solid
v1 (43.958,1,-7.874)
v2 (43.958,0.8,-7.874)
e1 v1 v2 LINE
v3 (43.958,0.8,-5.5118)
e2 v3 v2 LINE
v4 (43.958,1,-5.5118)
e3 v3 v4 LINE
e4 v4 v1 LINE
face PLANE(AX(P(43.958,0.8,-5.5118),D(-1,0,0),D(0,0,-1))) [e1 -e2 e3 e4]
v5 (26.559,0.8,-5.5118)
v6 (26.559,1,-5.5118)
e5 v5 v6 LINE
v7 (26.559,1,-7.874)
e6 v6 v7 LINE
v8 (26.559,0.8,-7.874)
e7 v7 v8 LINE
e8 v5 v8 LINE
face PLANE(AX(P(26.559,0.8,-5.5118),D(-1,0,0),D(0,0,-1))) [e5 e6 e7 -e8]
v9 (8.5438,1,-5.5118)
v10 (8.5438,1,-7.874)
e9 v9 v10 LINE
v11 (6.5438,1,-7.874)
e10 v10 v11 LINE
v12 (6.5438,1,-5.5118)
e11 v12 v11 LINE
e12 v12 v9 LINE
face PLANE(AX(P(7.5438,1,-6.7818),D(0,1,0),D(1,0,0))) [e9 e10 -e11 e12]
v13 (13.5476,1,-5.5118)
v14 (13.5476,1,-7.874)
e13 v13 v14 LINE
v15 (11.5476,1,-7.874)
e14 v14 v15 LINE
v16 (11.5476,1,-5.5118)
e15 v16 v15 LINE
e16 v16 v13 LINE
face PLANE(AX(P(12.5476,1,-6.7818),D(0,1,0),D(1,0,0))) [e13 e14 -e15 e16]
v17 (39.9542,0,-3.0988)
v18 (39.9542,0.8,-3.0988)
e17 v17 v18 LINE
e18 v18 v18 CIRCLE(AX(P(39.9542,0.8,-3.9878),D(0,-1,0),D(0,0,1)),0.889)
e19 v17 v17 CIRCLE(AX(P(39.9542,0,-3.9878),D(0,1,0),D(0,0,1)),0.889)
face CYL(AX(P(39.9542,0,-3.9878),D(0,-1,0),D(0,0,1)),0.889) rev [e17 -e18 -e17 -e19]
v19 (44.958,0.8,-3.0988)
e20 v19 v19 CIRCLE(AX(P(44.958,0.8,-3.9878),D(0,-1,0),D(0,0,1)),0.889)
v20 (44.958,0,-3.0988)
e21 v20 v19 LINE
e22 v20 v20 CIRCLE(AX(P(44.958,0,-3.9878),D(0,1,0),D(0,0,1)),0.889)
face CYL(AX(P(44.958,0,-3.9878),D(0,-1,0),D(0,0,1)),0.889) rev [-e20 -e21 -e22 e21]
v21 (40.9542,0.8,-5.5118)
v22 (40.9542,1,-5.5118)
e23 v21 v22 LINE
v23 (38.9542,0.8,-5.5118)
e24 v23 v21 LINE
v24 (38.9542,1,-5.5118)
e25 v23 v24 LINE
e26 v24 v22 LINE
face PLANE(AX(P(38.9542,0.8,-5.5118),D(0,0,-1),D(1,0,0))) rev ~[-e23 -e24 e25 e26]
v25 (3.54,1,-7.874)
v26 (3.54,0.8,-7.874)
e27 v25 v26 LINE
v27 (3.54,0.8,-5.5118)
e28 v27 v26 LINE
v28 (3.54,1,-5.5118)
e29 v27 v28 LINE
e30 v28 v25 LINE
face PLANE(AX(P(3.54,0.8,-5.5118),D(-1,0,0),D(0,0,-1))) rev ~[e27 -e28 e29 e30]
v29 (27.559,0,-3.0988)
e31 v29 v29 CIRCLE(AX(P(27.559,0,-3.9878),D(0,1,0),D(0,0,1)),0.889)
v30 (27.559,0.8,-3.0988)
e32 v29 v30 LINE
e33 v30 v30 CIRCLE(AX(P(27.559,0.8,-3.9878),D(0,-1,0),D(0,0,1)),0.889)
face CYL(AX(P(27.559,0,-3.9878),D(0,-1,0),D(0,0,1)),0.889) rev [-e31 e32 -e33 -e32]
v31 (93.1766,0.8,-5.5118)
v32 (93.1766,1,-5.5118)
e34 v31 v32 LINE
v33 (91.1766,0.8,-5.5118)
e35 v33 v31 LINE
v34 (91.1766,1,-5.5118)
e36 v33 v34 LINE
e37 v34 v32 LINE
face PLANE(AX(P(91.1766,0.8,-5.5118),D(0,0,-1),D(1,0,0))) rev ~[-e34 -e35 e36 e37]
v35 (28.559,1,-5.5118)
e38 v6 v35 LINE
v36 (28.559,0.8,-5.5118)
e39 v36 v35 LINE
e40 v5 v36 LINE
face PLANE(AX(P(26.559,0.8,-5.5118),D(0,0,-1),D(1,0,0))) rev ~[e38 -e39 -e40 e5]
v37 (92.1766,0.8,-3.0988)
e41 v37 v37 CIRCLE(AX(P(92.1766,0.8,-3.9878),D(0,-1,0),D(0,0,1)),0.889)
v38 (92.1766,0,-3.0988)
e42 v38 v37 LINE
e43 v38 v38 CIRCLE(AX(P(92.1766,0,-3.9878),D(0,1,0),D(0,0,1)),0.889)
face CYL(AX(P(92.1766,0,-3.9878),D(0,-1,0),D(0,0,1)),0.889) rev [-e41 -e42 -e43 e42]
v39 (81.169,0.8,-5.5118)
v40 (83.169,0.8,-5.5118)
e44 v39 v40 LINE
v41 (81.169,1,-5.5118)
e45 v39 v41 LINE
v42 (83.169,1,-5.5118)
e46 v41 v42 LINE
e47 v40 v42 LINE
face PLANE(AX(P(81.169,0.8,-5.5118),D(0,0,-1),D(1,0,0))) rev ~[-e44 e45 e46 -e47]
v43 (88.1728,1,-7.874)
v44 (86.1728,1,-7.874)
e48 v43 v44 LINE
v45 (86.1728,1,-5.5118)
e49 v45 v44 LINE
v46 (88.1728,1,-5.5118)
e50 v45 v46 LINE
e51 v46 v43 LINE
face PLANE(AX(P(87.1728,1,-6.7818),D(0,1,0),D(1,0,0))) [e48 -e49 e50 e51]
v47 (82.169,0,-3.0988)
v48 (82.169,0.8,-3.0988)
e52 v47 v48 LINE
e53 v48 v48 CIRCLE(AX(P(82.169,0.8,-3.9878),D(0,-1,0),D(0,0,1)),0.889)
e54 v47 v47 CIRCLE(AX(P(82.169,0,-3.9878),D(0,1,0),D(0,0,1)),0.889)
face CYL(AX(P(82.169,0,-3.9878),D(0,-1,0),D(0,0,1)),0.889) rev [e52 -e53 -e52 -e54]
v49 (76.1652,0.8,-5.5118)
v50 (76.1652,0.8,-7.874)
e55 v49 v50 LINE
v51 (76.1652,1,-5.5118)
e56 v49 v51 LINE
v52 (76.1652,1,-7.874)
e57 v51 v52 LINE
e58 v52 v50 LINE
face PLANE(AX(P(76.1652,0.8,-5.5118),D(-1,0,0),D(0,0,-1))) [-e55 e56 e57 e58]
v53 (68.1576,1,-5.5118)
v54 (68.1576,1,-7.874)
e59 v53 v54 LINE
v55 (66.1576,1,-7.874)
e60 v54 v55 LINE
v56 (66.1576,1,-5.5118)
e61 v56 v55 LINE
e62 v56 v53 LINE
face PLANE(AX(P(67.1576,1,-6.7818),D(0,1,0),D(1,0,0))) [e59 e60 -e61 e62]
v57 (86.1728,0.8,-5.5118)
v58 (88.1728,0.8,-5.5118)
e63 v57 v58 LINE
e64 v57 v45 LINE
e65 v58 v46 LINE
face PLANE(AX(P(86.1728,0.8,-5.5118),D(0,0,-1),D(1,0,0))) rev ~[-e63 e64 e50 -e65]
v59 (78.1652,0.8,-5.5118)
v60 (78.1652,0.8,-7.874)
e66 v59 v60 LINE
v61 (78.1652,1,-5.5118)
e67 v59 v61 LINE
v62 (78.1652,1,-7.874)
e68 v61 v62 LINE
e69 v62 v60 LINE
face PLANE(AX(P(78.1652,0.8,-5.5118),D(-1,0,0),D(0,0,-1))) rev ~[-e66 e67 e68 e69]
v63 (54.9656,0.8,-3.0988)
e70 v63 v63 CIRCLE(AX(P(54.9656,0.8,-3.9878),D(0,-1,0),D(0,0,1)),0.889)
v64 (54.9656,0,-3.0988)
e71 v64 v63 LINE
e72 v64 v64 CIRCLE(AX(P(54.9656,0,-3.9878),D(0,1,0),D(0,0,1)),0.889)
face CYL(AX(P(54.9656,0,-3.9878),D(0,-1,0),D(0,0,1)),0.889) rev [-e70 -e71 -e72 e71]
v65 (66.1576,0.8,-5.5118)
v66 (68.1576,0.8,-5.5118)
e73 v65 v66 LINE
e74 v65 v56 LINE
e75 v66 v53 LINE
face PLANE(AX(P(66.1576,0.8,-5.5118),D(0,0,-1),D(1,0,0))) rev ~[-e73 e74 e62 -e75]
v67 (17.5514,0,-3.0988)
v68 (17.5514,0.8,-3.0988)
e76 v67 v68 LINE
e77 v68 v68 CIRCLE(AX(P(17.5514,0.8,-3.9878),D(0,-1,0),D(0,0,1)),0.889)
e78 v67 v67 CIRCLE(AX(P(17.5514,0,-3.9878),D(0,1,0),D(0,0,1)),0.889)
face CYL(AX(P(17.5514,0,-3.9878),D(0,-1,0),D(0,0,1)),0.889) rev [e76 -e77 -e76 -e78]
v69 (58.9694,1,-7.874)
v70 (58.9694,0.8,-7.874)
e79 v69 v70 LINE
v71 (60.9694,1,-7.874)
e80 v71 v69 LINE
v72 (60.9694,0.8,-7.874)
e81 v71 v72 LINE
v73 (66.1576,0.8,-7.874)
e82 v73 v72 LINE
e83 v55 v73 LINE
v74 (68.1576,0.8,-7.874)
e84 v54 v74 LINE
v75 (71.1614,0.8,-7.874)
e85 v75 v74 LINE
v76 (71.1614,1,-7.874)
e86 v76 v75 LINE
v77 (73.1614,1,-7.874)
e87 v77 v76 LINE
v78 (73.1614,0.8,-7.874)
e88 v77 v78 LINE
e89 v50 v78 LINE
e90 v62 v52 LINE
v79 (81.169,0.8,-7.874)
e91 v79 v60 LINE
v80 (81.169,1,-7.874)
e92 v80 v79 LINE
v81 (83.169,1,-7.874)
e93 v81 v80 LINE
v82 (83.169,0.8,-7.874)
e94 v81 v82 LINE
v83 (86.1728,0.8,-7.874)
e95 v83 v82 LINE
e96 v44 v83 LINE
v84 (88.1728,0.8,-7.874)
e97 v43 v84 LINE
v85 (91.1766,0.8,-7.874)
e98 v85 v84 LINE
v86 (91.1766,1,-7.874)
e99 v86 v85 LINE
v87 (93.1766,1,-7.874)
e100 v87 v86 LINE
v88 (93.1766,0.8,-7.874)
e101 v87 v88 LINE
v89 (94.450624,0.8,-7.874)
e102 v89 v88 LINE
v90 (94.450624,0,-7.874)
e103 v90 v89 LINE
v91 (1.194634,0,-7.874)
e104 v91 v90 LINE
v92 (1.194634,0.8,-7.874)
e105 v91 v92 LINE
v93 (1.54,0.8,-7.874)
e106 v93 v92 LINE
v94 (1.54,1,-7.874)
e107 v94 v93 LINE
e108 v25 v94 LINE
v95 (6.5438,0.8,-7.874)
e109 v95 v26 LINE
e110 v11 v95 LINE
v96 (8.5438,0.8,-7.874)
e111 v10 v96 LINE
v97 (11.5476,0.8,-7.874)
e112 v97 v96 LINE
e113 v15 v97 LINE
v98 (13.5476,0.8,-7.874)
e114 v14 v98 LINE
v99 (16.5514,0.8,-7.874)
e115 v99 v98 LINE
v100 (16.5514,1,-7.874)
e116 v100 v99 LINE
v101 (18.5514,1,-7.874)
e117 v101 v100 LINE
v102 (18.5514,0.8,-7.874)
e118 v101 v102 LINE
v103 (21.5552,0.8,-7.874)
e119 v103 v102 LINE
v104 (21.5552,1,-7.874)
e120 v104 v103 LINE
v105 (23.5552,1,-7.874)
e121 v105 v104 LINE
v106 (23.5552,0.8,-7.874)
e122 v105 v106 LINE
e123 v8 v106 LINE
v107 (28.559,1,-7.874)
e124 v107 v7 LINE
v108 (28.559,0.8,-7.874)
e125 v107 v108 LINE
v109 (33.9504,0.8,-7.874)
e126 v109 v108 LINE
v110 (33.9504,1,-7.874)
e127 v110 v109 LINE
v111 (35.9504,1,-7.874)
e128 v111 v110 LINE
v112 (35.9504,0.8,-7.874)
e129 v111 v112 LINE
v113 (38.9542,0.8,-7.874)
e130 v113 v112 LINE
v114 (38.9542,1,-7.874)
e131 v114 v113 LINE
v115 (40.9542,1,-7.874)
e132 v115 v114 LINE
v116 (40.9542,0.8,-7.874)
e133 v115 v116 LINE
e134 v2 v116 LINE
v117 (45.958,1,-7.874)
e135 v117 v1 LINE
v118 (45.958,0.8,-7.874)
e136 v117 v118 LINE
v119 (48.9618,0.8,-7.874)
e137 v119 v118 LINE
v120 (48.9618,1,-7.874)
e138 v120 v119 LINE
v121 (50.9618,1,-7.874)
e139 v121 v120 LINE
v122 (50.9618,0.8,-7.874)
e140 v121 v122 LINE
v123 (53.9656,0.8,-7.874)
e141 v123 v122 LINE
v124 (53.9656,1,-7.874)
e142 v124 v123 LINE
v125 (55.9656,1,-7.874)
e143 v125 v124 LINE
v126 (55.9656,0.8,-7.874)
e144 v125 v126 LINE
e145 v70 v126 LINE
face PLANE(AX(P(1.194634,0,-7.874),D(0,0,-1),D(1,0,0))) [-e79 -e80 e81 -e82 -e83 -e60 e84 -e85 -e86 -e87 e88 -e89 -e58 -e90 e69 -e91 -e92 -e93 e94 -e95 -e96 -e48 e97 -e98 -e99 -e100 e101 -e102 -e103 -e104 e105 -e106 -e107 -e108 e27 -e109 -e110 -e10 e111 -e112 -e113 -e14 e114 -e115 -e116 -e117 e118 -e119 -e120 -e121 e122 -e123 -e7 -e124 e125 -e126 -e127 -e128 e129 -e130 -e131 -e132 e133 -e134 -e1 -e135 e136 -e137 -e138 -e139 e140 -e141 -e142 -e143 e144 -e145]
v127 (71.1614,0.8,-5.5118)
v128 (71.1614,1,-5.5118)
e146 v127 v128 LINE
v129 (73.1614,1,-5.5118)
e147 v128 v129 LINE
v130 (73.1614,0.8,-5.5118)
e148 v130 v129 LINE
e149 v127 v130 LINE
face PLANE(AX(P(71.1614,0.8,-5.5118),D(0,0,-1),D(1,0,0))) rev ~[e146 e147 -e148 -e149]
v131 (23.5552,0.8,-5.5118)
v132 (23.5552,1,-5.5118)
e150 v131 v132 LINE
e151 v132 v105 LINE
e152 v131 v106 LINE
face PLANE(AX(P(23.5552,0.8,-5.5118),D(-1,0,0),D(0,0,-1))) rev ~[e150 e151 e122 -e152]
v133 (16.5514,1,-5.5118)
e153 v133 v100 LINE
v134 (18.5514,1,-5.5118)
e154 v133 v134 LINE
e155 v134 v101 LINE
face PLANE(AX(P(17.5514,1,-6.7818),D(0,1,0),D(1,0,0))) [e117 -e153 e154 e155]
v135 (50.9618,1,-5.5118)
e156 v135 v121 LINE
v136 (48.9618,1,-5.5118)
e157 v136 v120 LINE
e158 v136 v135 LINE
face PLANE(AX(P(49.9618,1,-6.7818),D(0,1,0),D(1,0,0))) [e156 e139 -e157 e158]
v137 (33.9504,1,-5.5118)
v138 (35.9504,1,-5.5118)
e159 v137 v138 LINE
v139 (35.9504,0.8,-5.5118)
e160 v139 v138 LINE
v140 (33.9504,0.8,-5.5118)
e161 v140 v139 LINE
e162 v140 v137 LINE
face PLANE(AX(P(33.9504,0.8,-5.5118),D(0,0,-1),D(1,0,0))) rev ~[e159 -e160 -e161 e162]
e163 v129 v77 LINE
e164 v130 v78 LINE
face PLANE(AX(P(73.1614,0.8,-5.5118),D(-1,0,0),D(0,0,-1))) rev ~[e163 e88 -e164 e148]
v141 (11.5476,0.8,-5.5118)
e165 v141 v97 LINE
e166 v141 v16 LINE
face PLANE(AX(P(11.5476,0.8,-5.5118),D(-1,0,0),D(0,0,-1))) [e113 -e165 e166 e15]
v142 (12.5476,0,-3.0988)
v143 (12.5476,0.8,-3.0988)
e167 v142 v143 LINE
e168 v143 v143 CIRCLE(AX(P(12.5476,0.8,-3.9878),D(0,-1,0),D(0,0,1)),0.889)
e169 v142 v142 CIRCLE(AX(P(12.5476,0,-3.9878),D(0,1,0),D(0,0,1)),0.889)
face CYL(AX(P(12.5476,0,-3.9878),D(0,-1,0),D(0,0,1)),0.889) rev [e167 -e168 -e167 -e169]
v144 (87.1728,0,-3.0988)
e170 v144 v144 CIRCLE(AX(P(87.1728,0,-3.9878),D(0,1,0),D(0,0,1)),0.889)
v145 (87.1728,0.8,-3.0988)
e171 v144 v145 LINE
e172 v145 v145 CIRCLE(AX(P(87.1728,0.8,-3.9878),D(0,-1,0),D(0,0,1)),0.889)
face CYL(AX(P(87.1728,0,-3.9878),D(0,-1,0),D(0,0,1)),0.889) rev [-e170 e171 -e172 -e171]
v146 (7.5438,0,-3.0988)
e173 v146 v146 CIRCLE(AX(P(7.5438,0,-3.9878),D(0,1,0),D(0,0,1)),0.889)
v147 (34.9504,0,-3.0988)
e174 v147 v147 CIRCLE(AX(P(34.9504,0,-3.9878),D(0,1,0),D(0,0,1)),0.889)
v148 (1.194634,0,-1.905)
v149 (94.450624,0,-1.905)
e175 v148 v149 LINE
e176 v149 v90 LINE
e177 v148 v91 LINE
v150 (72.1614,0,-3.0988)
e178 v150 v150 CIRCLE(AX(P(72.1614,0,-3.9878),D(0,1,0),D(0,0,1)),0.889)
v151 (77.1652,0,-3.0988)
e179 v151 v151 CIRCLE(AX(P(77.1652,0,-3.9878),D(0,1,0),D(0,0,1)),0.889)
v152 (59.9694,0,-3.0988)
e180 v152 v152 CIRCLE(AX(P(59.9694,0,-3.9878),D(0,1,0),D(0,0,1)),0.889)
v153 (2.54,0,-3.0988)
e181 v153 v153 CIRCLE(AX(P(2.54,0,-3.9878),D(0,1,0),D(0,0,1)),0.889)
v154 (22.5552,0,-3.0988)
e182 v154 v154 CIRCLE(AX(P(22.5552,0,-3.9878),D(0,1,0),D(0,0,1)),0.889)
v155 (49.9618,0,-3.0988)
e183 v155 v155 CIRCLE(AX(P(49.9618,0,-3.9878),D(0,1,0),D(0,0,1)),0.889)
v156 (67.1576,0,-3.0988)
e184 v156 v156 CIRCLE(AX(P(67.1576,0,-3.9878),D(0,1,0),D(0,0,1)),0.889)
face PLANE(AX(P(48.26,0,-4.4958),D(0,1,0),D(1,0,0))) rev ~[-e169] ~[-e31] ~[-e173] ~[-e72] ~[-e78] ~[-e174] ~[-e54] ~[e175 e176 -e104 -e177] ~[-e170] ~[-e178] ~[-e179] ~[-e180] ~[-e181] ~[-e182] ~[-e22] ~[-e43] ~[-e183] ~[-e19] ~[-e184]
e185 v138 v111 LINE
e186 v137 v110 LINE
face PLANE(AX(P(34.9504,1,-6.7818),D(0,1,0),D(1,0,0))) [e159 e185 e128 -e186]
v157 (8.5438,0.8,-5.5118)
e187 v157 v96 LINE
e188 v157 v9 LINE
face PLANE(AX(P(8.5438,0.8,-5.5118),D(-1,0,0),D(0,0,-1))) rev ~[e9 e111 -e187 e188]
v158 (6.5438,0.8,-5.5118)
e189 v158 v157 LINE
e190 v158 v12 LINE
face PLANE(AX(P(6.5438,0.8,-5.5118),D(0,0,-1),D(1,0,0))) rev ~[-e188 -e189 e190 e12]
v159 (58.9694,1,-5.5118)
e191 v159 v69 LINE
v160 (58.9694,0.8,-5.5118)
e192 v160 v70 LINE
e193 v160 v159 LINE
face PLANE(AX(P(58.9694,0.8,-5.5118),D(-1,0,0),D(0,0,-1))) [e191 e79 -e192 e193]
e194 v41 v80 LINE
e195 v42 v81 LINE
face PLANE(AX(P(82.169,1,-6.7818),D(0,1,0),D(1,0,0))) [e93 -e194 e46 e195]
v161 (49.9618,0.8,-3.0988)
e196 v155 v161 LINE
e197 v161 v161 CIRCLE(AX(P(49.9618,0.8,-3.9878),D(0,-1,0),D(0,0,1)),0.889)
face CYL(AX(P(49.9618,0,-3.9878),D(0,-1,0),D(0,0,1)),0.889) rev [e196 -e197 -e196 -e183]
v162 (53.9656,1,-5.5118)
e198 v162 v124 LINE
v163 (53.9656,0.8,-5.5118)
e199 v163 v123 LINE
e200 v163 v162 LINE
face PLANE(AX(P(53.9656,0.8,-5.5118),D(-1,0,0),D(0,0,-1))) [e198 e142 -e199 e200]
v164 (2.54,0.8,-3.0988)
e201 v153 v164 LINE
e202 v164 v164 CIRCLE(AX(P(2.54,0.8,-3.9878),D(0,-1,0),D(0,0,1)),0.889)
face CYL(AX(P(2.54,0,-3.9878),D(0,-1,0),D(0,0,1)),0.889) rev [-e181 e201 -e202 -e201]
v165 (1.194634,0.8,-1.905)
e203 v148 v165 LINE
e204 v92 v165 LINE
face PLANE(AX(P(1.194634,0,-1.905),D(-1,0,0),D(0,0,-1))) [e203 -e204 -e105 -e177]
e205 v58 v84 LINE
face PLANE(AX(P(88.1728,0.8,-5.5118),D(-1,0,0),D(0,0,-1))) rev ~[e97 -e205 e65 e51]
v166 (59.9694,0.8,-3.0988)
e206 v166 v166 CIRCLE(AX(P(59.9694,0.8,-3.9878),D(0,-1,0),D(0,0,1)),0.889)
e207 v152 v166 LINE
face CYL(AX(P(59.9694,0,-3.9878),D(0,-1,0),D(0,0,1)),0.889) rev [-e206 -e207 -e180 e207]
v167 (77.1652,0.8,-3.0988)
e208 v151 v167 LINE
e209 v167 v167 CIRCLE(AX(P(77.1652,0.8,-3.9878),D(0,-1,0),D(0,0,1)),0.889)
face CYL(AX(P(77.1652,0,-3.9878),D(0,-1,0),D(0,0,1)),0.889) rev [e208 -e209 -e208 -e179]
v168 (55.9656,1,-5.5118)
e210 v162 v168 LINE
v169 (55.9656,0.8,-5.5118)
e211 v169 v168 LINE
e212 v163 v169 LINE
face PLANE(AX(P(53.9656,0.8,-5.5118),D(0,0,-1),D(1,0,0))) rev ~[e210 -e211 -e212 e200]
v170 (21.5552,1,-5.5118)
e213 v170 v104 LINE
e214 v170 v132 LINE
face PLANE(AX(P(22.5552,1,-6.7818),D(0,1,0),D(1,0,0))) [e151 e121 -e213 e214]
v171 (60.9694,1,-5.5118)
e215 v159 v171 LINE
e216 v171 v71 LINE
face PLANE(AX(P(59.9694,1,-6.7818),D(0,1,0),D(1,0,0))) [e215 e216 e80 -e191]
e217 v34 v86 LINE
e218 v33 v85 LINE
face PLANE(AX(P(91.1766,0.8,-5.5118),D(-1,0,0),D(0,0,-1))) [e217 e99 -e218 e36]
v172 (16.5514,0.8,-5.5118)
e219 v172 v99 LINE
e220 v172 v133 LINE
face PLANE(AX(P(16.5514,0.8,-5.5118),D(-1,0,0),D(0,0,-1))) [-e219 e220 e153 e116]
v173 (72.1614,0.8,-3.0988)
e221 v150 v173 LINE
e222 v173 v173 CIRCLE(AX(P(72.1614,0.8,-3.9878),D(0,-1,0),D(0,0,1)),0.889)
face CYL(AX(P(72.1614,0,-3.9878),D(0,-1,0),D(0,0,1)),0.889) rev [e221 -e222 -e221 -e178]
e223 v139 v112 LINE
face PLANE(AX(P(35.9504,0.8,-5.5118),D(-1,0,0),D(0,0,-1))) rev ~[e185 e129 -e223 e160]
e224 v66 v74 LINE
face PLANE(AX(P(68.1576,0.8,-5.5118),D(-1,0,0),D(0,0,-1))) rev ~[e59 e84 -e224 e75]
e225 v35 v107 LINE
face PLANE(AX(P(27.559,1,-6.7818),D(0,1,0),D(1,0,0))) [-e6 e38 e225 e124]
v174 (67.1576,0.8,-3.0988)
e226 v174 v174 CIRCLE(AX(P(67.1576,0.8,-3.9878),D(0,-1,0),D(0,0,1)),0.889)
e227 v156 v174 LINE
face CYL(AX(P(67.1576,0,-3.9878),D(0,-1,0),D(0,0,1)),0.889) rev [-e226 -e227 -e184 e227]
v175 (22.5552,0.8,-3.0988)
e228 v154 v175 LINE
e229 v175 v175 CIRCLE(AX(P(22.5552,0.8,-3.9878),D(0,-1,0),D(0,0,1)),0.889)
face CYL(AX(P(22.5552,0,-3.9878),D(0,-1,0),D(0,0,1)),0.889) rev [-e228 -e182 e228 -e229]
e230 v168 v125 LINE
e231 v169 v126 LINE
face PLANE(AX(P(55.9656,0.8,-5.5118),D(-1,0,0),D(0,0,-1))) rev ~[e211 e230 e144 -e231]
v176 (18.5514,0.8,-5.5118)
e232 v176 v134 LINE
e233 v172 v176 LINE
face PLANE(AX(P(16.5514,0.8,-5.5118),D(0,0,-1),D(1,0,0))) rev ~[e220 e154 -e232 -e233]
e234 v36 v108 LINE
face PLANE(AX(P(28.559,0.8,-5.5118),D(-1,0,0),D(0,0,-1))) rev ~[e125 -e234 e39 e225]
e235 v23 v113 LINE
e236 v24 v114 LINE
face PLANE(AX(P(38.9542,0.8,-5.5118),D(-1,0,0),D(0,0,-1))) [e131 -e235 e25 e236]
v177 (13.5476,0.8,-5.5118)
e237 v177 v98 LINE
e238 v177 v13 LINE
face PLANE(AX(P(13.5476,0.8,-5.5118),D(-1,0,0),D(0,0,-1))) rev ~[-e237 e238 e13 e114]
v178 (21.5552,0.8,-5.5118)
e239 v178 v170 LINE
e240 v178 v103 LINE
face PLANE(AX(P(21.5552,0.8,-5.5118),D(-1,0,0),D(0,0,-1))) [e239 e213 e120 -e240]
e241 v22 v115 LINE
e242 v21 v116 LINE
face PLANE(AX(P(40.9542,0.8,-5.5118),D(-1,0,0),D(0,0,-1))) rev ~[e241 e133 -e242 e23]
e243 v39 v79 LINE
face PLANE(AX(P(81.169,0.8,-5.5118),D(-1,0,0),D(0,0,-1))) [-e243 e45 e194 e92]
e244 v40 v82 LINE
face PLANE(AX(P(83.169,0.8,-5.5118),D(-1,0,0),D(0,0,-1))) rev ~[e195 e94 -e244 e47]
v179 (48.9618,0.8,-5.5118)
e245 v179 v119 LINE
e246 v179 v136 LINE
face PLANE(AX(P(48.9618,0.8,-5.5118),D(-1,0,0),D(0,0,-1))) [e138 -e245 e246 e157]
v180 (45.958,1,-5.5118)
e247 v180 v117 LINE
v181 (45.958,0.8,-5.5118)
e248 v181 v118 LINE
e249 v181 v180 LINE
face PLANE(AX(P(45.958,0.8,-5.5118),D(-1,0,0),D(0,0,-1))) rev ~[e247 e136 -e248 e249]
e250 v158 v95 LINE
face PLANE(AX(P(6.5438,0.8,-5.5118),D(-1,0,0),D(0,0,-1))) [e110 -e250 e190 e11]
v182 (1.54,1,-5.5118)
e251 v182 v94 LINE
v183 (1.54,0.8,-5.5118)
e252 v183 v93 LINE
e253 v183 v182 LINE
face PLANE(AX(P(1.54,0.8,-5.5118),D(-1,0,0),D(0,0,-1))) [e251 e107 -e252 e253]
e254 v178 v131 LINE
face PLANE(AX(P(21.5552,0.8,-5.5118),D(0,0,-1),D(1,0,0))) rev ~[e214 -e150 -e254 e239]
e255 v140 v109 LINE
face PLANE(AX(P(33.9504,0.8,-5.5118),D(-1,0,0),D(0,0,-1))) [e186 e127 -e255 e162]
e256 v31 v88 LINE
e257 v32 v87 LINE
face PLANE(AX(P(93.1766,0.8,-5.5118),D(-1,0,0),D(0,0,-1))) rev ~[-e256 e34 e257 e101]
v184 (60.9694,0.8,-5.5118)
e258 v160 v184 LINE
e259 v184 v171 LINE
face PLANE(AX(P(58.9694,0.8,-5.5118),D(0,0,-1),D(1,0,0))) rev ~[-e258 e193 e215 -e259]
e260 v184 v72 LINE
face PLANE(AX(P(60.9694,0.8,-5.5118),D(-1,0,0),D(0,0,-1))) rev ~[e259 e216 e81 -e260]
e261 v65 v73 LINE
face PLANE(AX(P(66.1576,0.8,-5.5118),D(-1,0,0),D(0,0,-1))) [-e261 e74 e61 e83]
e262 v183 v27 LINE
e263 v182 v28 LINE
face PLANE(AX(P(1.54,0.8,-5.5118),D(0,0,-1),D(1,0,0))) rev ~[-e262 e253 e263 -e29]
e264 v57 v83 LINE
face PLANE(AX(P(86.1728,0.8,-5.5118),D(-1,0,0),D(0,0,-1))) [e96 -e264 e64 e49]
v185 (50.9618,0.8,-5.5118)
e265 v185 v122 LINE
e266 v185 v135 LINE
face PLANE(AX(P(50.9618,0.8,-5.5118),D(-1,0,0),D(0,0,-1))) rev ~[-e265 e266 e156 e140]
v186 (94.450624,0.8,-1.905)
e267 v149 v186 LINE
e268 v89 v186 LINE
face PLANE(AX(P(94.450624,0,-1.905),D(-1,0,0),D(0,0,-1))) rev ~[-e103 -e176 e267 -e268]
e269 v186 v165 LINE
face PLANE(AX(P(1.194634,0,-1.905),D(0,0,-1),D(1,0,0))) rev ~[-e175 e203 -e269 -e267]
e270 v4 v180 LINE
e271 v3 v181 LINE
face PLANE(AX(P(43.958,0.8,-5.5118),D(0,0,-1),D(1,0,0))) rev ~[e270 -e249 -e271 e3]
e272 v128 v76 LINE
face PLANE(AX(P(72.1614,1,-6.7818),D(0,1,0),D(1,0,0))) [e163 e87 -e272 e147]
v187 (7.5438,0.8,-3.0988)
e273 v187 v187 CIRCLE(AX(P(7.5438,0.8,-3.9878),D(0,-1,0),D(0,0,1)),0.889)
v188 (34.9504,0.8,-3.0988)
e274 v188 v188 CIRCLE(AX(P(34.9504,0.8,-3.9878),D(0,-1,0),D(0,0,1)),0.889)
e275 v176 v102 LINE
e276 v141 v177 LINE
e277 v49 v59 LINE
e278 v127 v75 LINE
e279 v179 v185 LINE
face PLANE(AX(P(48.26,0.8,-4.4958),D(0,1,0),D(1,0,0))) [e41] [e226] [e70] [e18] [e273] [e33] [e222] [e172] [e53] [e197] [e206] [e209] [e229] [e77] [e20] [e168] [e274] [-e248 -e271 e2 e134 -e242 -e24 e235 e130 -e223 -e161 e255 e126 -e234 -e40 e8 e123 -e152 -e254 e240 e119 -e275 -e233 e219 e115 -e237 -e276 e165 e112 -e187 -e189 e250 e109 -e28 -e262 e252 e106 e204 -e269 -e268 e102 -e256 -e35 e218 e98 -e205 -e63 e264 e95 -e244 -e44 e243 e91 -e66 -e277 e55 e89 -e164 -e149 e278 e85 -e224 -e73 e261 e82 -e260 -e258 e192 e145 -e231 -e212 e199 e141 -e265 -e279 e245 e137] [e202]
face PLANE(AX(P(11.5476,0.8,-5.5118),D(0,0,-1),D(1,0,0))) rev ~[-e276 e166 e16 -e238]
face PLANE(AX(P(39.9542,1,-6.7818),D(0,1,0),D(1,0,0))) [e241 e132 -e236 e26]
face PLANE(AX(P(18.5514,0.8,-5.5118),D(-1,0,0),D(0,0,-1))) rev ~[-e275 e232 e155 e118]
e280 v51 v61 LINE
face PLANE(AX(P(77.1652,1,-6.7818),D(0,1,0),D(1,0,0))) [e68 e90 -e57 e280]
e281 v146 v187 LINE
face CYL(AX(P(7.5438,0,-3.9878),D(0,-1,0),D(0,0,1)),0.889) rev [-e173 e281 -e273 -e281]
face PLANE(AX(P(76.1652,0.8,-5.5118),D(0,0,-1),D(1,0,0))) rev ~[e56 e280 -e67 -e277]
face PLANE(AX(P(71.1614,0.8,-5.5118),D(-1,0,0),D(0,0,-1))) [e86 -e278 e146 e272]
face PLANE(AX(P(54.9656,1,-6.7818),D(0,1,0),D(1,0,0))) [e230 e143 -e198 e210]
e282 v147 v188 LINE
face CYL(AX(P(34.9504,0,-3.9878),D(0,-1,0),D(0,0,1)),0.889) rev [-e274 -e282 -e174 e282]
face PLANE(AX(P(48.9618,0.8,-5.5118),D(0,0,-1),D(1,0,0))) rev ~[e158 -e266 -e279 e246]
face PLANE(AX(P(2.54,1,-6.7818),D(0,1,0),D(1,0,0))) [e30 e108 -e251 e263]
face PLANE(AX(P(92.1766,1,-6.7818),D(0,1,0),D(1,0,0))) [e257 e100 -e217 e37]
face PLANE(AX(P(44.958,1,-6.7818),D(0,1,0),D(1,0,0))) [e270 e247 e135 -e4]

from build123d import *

# Parameters (mm, degrees)
SKETCH1_W                = 96.52
SKETCH1_H                = 8.9916
MAIN_BOSS_DEPTH          = 0.8
SKETCH2_R                = 0.889
HOLES_FOR_PNP_PINS_DEPTH = 97.941215541
SKETCH3_W                = 2
SKETCH3_H                = 2.54
LOCATOR_TABS_DEPTH       = 0.2
SKETCH4_W                = 101.202450421
SKETCH4_H                = 13.068973156
SKETCH4_W_2              = 93.255989356
SKETCH4_H_2              = 5.969
CROP_DEPTH               = 97.943072319


with BuildPart() as part:
    # Sketch1 → main boss (new body)
    with BuildSketch(Plane(origin=(0, 0, 0), x_dir=(1, 0, 0), z_dir=(0, 1, 0))):
        with Locations((48.26, 4.4958)):
            Rectangle(SKETCH1_W, SKETCH1_H)
    extrude(amount=MAIN_BOSS_DEPTH)

    # Sketch2 → holes for PNP pins (cut, through all)
    with BuildSketch(Plane(origin=(0, 0, 0), x_dir=(1, 0, 0), z_dir=(0, 1, 0))):
        with Locations(Location((2.54, 3.9878, 0), (0, 0, 270))):
            Circle(SKETCH2_R)
        with Locations(Location((7.5438, 3.9878, 0), (0, 0, 270))):
            Circle(SKETCH2_R)
        with Locations(Location((12.5476, 3.9878, 0), (0, 0, 270))):
            Circle(SKETCH2_R)
        with Locations(Location((17.5514, 3.9878, 0), (0, 0, 270))):
            Circle(SKETCH2_R)
        with Locations(Location((22.5552, 3.9878, 0), (0, 0, 270))):
            Circle(SKETCH2_R)
        with Locations(Location((27.559, 3.9878, 0), (0, 0, 270))):
            Circle(SKETCH2_R)
        with Locations(Location((34.9504, 3.9878, 0), (0, 0, 270))):
            Circle(SKETCH2_R)
        with Locations(Location((39.9542, 3.9878, 0), (0, 0, 270))):
            Circle(SKETCH2_R)
        with Locations(Location((44.958, 3.9878, 0), (0, 0, 270))):
            Circle(SKETCH2_R)
        with Locations(Location((49.9618, 3.9878, 0), (0, 0, 270))):
            Circle(SKETCH2_R)
        with Locations(Location((54.9656, 3.9878, 0), (0, 0, 270))):
            Circle(SKETCH2_R)
        with Locations(Location((59.9694, 3.9878, 0), (0, 0, 270))):
            Circle(SKETCH2_R)
        with Locations(Location((67.1576, 3.9878, 0), (0, 0, 270))):
            Circle(SKETCH2_R)
        with Locations(Location((72.1614, 3.9878, 0), (0, 0, 270))):
            Circle(SKETCH2_R)
        with Locations(Location((77.1652, 3.9878, 0), (0, 0, 270))):
            Circle(SKETCH2_R)
        with Locations(Location((82.169, 3.9878, 0), (0, 0, 270))):
            Circle(SKETCH2_R)
        with Locations(Location((87.1728, 3.9878, 0), (0, 0, 270))):
            Circle(SKETCH2_R)
        with Locations(Location((92.1766, 3.9878, 0), (0, 0, 270))):
            Circle(SKETCH2_R)
    extrude(amount=HOLES_FOR_PNP_PINS_DEPTH, mode=Mode.SUBTRACT)

    # Sketch3 → locator tabs (add)
    with BuildSketch(Plane(origin=(0, 0.8, 0), x_dir=(1, 0, 0), z_dir=(0, 1, 0))):
        with Locations((7.5438, 6.7818)):
            Rectangle(SKETCH3_W, SKETCH3_H)
        with Locations((2.54, 6.7818)):
            Rectangle(SKETCH3_W, SKETCH3_H)
        with Locations((34.9504, 6.7818)):
            Rectangle(SKETCH3_W, SKETCH3_H)
        with Locations((67.1576, 6.7818)):
            Rectangle(SKETCH3_W, SKETCH3_H)
        with Locations((12.5476, 6.7818)):
            Rectangle(SKETCH3_W, SKETCH3_H)
        with Locations((17.5514, 6.7818)):
            Rectangle(SKETCH3_W, SKETCH3_H)
        with Locations((22.5552, 6.7818)):
            Rectangle(SKETCH3_W, SKETCH3_H)
        with Locations((27.559, 6.7818)):
            Rectangle(SKETCH3_W, SKETCH3_H)
        with Locations((39.9542, 6.7818)):
            Rectangle(SKETCH3_W, SKETCH3_H)
        with Locations((44.958, 6.7818)):
            Rectangle(SKETCH3_W, SKETCH3_H)
        with Locations((49.9618, 6.7818)):
            Rectangle(SKETCH3_W, SKETCH3_H)
        with Locations((54.9656, 6.7818)):
            Rectangle(SKETCH3_W, SKETCH3_H)
        with Locations((59.9694, 6.7818)):
            Rectangle(SKETCH3_W, SKETCH3_H)
        with Locations((72.1614, 6.7818)):
            Rectangle(SKETCH3_W, SKETCH3_H)
        with Locations((77.1652, 6.7818)):
            Rectangle(SKETCH3_W, SKETCH3_H)
        with Locations((82.169, 6.7818)):
            Rectangle(SKETCH3_W, SKETCH3_H)
        with Locations((87.1728, 6.7818)):
            Rectangle(SKETCH3_W, SKETCH3_H)
        with Locations((92.1766, 6.7818)):
            Rectangle(SKETCH3_W, SKETCH3_H)
    extrude(amount=LOCATOR_TABS_DEPTH)

    # Sketch4 → crop (cut, through all)
    with BuildSketch(Plane(origin=(0, 0, 0), x_dir=(1, 0, 0), z_dir=(0, 1, 0))):
        with Locations((47.986811927, 3.888963456)):
            Rectangle(SKETCH4_W, SKETCH4_H)
        with Locations((47.822628847, 4.8895)):
            Rectangle(SKETCH4_W_2, SKETCH4_H_2, mode=Mode.SUBTRACT)
    extrude(amount=CROP_DEPTH, mode=Mode.SUBTRACT)


solid = part.part
